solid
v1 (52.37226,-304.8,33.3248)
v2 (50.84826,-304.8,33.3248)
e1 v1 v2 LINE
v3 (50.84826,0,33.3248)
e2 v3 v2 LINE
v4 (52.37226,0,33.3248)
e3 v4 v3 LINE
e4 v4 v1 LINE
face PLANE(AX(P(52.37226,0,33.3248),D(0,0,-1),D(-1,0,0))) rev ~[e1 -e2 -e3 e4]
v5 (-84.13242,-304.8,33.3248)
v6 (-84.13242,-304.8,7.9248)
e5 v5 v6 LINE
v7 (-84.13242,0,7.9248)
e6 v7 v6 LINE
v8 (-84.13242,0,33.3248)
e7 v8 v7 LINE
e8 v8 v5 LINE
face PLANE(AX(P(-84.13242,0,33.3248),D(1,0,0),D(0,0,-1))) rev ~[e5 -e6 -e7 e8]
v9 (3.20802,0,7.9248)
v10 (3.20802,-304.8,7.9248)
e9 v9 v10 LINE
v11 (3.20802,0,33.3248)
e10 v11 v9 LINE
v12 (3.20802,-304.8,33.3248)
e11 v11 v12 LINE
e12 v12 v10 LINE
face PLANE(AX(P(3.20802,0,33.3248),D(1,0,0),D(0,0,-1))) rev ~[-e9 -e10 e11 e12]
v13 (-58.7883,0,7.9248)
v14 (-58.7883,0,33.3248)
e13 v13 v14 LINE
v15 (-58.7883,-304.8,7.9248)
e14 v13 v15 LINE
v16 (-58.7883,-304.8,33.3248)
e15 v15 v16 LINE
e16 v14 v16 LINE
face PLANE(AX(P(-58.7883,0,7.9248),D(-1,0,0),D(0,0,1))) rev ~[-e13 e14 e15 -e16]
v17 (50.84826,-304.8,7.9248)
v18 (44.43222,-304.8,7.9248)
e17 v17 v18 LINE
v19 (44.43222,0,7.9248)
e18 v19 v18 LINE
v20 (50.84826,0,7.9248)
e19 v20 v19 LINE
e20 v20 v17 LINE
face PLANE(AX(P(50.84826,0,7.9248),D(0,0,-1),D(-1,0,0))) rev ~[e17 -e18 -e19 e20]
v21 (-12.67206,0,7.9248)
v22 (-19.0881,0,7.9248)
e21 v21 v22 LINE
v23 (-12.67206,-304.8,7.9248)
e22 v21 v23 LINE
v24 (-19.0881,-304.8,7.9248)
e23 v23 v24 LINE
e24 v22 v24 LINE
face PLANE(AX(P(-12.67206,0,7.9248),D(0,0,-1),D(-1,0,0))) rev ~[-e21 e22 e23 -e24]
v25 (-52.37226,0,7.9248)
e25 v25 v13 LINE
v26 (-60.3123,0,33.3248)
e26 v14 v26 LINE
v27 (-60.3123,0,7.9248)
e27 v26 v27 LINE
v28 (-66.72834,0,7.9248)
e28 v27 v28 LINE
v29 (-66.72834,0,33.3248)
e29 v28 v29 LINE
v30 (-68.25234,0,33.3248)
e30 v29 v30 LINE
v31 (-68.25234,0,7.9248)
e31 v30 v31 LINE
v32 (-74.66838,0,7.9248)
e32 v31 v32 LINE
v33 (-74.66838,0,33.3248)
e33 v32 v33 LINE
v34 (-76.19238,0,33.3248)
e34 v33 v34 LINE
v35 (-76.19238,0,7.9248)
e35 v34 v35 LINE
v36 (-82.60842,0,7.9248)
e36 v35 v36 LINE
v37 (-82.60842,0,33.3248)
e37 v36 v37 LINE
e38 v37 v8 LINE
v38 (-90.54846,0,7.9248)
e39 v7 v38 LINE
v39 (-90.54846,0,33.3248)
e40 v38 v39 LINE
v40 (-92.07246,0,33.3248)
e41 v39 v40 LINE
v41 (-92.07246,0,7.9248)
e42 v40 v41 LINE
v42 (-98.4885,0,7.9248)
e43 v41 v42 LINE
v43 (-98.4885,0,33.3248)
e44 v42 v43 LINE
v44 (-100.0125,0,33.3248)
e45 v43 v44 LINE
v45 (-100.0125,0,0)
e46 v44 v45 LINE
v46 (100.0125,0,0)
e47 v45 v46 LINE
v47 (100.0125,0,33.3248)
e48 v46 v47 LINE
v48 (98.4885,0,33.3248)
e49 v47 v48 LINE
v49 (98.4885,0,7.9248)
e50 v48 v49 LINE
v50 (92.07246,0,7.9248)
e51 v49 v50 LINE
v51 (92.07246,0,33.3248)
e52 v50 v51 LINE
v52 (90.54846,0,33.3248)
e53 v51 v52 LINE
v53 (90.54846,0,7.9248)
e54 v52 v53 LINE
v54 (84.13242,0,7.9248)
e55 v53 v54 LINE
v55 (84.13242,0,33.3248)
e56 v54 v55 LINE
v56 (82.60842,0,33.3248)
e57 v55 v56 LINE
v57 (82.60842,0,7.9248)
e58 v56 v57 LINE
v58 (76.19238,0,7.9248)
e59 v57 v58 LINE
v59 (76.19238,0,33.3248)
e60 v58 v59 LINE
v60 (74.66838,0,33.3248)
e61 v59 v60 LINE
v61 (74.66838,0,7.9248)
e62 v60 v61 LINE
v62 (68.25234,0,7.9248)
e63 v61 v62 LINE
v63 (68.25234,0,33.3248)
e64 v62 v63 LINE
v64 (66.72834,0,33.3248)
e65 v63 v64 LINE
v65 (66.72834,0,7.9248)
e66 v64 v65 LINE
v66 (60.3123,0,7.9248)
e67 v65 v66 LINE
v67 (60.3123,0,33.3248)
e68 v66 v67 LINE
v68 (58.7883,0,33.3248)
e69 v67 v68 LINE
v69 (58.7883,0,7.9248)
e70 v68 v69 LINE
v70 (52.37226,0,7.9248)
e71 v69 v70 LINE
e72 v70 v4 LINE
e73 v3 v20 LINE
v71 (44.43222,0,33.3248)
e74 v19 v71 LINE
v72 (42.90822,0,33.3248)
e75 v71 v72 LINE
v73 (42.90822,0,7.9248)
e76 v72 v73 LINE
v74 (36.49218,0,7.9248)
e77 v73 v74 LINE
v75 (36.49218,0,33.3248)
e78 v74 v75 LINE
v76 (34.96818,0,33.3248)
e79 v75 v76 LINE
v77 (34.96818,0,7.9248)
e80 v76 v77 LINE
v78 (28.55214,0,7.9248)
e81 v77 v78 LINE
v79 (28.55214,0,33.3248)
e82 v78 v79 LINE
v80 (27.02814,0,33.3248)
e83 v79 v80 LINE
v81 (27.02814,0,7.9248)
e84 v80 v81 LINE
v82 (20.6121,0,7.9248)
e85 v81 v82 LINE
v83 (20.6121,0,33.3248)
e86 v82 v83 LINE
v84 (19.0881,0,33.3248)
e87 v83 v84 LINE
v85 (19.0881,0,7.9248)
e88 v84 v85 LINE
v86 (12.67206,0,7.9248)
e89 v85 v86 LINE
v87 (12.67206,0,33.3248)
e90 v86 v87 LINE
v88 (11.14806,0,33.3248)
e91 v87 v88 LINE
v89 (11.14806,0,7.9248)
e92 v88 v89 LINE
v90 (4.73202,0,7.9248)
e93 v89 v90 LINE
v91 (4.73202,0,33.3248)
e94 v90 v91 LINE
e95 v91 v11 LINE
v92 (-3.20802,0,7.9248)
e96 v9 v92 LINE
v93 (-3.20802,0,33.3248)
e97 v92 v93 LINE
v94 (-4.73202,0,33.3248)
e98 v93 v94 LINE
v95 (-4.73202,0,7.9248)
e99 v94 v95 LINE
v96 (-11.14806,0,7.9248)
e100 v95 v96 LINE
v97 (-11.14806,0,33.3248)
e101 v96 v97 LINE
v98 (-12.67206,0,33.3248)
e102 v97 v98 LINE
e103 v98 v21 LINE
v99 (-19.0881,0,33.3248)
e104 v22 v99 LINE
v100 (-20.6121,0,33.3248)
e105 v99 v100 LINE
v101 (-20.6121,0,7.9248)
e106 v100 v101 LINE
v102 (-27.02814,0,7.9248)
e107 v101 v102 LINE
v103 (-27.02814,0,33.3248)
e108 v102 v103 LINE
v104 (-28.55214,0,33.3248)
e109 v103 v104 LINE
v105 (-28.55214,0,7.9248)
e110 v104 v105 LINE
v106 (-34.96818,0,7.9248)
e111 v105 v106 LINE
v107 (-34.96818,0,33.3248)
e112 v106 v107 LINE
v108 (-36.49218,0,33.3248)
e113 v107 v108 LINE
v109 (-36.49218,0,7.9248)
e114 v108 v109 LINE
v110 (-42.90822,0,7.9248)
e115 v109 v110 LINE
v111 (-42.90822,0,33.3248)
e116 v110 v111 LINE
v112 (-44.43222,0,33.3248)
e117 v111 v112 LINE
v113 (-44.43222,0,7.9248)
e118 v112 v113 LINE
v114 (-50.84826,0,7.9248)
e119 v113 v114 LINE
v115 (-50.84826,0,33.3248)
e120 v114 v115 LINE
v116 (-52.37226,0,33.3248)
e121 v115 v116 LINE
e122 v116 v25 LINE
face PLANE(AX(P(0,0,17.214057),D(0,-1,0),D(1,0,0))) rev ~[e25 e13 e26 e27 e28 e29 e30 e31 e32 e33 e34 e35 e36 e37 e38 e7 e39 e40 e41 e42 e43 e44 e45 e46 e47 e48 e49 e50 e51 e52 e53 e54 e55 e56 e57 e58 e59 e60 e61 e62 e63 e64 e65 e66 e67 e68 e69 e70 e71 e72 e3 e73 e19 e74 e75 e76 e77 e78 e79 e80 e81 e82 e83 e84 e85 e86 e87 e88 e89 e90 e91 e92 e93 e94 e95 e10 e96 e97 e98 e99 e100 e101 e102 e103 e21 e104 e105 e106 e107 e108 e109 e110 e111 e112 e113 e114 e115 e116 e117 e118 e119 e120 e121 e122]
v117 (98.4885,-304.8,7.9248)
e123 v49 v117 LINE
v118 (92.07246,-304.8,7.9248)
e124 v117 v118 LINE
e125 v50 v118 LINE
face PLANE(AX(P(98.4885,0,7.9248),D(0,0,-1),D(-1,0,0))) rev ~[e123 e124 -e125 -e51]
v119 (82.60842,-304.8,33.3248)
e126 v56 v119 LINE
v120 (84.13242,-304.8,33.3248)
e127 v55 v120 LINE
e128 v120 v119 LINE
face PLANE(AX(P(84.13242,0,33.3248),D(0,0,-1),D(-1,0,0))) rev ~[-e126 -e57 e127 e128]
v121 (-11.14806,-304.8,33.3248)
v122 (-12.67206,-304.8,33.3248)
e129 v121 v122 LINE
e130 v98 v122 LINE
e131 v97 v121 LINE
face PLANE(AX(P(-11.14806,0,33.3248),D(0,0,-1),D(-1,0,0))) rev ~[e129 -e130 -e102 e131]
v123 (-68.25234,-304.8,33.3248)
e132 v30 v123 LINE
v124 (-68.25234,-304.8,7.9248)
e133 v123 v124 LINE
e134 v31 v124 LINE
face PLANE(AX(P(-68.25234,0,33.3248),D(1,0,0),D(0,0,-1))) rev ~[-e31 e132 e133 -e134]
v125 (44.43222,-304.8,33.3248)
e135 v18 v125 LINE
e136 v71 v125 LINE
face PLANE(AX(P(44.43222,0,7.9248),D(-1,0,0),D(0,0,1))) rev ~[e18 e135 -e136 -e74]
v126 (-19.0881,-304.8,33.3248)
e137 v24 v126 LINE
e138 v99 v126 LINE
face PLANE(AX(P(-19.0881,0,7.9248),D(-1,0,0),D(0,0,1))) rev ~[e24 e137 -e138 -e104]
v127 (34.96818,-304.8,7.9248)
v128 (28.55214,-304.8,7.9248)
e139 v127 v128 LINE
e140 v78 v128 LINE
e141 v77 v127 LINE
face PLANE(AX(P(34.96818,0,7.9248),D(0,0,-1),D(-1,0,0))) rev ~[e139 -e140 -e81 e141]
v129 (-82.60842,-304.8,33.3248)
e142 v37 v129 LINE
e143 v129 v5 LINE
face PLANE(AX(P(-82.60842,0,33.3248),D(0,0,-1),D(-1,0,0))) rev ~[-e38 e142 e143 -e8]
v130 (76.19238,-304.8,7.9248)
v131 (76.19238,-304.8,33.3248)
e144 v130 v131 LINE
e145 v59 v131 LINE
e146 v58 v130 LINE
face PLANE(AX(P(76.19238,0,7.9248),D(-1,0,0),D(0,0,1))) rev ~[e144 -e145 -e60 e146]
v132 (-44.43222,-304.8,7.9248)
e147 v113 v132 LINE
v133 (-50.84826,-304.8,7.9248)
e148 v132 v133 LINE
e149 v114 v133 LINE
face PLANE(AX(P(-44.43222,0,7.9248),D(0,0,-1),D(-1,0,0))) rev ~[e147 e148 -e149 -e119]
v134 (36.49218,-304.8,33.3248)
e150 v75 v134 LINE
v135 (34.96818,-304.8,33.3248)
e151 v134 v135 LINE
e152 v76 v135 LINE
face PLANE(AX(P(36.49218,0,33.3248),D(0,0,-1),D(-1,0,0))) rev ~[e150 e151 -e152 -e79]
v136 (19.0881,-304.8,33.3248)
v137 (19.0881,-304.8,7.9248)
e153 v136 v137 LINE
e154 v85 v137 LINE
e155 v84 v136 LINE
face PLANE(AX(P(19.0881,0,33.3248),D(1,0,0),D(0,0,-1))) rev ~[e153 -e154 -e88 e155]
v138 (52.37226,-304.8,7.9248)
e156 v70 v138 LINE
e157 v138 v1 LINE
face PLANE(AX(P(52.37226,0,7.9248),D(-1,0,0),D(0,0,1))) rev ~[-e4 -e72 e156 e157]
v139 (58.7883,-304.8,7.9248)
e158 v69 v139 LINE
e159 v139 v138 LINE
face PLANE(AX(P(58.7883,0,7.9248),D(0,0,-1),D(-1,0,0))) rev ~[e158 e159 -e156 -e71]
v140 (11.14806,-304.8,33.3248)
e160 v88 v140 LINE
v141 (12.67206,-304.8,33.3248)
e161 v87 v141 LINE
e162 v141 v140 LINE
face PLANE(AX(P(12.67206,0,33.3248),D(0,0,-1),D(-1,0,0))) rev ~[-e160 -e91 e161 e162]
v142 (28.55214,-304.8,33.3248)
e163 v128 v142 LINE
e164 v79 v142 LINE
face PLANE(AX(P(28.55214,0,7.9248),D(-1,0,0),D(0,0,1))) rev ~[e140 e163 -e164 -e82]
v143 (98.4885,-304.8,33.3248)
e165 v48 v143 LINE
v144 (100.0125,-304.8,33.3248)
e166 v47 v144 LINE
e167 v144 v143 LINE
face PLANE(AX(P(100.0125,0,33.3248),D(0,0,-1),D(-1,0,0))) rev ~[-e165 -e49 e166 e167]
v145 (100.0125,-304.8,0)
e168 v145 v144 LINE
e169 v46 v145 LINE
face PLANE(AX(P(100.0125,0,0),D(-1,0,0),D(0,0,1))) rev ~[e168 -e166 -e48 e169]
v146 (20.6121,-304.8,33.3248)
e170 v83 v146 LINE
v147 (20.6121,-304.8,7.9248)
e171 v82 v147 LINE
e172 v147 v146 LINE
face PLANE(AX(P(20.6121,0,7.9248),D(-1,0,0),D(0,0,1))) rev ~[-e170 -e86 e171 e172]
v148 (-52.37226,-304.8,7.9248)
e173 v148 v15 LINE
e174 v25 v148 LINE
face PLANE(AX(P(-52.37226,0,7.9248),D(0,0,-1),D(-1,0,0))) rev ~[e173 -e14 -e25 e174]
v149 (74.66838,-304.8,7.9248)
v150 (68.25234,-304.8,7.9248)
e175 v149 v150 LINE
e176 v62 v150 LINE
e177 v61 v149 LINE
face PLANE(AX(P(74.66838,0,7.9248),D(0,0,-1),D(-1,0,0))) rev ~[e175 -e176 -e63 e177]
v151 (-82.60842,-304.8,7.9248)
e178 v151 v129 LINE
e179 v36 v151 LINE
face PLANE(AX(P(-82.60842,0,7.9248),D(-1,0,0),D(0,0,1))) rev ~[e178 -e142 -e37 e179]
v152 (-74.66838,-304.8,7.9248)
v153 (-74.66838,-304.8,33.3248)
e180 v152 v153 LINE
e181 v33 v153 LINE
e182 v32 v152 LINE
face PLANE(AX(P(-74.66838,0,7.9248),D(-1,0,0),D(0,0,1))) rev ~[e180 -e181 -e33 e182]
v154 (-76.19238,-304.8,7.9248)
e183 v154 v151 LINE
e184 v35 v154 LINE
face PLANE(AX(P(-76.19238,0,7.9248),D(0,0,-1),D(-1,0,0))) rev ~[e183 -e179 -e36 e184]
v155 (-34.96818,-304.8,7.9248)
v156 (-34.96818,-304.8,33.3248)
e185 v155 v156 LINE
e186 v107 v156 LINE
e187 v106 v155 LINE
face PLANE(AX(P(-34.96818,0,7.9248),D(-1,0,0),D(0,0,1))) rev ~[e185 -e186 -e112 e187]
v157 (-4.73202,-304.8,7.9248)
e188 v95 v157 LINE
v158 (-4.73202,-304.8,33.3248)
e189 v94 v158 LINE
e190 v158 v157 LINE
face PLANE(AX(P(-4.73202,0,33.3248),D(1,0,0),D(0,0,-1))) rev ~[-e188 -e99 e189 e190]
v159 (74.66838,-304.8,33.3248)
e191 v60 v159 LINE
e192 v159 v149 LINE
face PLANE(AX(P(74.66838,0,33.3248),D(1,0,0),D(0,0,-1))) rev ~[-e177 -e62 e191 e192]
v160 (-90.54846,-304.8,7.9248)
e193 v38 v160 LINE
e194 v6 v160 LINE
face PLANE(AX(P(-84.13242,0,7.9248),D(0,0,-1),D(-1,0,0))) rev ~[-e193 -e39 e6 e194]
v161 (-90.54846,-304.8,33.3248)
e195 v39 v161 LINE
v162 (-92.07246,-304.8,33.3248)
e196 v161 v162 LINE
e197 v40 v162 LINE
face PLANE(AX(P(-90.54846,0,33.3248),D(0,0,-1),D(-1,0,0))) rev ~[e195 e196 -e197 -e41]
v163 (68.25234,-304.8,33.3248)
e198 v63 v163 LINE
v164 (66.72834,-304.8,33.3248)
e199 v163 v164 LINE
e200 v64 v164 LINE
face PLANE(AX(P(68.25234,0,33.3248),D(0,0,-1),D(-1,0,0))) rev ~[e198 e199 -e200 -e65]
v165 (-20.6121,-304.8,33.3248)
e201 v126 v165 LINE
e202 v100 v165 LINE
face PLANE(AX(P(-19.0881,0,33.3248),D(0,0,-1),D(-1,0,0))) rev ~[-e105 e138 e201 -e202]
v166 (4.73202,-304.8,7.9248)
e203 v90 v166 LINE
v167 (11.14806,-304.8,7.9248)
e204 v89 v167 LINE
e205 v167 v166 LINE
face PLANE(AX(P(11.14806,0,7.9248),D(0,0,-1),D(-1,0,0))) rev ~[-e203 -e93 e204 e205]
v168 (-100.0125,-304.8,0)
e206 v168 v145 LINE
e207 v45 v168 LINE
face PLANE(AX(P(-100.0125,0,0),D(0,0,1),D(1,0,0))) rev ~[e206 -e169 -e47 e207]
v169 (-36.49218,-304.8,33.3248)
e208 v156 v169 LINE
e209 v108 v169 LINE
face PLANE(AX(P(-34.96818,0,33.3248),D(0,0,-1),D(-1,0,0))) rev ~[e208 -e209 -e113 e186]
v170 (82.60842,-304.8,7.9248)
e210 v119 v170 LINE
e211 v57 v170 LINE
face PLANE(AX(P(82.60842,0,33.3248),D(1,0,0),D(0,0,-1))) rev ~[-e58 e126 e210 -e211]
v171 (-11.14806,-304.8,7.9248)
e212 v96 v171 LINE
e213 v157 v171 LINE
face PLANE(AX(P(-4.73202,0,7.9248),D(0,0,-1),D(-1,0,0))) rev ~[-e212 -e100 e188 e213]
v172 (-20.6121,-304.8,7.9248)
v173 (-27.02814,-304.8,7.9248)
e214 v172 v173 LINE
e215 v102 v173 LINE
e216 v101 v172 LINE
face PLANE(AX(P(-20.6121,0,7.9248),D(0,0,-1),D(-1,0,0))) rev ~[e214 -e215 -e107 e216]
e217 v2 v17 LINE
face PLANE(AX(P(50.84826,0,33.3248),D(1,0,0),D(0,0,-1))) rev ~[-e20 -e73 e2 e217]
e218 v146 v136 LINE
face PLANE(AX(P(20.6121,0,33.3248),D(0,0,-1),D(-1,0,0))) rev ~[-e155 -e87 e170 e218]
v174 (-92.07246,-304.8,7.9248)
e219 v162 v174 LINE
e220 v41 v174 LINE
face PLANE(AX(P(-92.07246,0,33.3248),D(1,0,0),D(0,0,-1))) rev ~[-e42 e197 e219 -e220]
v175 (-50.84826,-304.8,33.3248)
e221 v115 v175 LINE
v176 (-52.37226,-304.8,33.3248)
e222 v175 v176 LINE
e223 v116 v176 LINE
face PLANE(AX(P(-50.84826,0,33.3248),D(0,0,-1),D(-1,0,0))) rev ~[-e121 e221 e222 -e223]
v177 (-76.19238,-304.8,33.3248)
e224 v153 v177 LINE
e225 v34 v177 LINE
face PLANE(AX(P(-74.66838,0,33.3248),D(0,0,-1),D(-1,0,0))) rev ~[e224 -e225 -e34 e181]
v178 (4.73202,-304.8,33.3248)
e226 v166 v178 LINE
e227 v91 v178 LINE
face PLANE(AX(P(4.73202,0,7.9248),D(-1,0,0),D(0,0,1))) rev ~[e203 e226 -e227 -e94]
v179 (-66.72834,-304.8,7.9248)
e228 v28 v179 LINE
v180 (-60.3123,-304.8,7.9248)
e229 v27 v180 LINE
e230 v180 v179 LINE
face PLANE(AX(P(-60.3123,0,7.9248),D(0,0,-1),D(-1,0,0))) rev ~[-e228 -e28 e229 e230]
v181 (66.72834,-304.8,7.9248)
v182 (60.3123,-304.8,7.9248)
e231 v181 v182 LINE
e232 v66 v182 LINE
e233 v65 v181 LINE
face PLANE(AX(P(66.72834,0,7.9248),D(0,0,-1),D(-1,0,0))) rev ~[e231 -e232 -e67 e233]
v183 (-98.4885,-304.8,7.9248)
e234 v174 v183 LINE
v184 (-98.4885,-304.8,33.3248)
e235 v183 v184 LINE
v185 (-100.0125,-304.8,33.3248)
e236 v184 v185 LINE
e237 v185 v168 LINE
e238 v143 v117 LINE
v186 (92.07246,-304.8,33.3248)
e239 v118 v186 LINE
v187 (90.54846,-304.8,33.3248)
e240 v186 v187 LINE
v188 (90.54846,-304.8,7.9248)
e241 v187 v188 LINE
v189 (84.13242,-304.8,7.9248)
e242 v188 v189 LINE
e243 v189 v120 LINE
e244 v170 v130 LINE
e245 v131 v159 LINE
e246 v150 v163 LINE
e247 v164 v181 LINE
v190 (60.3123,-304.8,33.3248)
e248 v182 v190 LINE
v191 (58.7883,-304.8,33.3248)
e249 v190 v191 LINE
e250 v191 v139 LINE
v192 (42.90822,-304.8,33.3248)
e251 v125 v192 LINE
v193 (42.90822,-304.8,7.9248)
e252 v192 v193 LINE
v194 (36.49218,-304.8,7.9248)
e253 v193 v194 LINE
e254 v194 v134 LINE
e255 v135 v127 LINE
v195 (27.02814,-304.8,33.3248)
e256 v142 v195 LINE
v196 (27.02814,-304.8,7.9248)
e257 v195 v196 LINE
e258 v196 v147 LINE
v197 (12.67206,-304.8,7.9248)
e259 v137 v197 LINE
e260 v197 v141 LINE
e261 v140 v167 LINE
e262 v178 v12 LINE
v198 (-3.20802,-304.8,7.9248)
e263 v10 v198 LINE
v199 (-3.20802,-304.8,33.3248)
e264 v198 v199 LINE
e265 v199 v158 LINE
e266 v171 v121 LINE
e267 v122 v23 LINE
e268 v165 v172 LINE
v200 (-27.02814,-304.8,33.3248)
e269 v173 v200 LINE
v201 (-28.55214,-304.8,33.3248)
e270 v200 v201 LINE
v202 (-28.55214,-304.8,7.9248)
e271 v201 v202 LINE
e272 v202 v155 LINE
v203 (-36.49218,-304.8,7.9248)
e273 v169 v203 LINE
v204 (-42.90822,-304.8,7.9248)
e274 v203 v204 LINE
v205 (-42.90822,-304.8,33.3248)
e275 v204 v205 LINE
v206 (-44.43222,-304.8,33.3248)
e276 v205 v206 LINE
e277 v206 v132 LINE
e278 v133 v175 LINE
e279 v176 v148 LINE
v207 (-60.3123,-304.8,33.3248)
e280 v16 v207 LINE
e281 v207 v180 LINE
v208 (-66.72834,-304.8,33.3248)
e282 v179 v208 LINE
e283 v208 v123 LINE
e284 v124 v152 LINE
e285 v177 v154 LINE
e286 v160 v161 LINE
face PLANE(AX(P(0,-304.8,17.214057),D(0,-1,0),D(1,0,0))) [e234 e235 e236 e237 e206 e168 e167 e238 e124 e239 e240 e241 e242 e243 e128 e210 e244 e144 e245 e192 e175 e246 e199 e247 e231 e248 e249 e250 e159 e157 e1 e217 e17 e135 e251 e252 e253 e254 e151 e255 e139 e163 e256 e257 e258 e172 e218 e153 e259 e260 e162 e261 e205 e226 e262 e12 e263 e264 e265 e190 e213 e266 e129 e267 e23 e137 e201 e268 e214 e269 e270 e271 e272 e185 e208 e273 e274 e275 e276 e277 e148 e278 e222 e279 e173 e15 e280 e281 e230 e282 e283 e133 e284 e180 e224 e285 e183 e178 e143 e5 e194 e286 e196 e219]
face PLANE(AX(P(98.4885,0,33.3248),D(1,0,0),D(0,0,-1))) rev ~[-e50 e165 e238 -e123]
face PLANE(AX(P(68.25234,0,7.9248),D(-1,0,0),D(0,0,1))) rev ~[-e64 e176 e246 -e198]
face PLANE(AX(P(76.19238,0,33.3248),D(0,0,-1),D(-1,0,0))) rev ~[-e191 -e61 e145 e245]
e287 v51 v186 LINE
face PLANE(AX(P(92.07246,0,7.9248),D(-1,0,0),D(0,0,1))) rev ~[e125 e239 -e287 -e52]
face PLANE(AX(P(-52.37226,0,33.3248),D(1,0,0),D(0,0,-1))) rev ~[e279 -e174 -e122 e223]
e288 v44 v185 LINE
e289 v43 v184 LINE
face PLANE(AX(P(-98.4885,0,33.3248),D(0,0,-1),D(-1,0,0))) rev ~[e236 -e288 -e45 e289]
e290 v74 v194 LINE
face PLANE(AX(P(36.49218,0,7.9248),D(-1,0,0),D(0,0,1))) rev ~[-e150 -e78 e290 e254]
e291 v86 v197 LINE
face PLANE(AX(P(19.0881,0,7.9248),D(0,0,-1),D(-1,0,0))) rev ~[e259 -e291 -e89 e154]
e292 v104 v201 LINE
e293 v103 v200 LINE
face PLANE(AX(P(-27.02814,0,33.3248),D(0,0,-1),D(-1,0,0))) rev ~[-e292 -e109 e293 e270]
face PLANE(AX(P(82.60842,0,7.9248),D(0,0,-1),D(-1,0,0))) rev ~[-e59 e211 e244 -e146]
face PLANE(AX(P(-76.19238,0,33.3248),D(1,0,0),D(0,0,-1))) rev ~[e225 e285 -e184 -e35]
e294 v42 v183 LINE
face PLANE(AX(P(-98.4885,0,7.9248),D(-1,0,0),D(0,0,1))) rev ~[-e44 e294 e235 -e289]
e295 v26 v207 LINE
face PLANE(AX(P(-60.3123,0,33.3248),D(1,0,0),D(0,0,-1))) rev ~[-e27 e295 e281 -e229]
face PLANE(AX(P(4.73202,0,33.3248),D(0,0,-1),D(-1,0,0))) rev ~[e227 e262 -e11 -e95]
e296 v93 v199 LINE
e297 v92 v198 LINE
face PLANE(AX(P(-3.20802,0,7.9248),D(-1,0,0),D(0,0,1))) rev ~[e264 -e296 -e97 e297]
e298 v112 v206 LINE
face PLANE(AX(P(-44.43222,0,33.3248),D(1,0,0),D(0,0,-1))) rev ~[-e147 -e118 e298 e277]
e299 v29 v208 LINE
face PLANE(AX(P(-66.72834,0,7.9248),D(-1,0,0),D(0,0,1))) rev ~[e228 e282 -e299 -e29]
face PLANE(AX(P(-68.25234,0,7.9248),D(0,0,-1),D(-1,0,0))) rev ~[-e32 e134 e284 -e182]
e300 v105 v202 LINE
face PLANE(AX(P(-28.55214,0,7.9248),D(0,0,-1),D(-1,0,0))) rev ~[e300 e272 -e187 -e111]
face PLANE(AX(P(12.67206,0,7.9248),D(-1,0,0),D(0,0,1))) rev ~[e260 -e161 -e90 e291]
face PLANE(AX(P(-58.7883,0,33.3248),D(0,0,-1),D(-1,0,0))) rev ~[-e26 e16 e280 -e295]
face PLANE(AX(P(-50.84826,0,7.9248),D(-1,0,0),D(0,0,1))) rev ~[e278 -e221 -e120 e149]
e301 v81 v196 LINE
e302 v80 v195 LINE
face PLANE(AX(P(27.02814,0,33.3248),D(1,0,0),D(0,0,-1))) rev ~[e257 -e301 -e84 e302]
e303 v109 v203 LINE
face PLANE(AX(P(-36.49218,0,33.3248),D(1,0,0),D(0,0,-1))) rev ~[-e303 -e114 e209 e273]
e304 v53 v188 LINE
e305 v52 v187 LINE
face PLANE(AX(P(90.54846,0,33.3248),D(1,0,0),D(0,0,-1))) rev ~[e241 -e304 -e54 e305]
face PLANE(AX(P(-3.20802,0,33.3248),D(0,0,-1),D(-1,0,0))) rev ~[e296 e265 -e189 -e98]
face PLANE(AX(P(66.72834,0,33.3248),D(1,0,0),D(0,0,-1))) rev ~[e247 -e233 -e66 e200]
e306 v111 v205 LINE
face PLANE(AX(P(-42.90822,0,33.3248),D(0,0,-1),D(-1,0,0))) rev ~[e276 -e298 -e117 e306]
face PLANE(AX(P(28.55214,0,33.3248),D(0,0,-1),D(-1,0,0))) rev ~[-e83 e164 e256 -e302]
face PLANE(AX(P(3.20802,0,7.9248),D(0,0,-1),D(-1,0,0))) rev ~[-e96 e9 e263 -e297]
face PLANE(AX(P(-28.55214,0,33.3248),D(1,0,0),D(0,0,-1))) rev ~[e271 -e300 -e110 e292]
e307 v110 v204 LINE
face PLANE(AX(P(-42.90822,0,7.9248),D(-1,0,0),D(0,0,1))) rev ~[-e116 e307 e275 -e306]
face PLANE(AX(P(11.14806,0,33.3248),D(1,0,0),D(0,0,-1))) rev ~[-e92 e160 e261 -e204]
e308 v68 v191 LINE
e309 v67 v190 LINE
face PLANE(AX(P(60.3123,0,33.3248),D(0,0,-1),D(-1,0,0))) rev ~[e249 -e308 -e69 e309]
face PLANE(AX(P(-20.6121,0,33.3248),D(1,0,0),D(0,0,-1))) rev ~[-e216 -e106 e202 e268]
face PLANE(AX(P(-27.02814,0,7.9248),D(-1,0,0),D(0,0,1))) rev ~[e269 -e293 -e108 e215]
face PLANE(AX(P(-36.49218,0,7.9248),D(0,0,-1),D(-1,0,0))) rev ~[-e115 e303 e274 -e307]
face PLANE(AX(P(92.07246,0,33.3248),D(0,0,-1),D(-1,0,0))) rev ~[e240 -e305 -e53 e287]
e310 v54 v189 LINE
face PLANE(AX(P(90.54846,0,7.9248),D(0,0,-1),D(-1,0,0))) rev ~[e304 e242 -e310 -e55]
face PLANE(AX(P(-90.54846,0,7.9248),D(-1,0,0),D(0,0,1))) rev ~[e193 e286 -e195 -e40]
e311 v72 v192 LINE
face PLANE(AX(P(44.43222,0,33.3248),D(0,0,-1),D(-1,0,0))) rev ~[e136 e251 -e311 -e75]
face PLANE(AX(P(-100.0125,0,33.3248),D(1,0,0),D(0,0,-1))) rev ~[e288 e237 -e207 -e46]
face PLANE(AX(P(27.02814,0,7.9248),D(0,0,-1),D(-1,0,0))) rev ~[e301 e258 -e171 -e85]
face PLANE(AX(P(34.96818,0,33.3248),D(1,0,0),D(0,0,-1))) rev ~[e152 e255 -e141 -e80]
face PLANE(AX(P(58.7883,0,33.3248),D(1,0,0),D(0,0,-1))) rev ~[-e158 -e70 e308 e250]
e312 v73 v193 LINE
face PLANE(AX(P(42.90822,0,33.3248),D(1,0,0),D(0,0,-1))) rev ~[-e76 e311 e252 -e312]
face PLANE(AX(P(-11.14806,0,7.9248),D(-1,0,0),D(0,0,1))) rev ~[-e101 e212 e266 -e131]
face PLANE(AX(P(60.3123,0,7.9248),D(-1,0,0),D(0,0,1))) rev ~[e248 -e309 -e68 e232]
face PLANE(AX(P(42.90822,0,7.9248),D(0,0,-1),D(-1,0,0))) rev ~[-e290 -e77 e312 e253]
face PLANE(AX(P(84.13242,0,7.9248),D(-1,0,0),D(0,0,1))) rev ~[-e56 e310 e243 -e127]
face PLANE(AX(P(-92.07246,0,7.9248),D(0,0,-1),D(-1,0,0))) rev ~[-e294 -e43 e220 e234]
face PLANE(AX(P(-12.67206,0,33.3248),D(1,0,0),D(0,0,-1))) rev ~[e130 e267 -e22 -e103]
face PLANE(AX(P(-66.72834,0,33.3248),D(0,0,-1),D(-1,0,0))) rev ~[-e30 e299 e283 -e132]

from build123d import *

# Parameters (mm, degrees)
F1_DEPTH = 304.8


with BuildPart() as f1:
    # F0 (on Front) → F1 (new body)
    with BuildSketch(Plane.XZ):
        Polygon((-100.0125, 33.3248), (-100.0125, 0), (100.0125, 0), (100.0125, 33.3248), (98.4885, 33.3248), (98.4885, 7.9248), (92.07246, 7.9248), (92.07246, 33.3248), (90.54846, 33.3248), (90.54846, 7.9248), (84.13242, 7.9248), (84.13242, 33.3248), (82.60842, 33.3248), (82.60842, 7.9248), (76.19238, 7.9248), (76.19238, 33.3248), (74.66838, 33.3248), (74.66838, 7.9248), (68.25234, 7.9248), (68.25234, 33.3248), (66.72834, 33.3248), (66.72834, 7.9248), (60.3123, 7.9248), (60.3123, 33.3248), (58.7883, 33.3248), (58.7883, 7.9248), (52.37226, 7.9248), (52.37226, 33.3248), (50.84826, 33.3248), (50.84826, 7.9248), (44.43222, 7.9248), (44.43222, 33.3248), (42.90822, 33.3248), (42.90822, 7.9248), (36.49218, 7.9248), (36.49218, 33.3248), (34.96818, 33.3248), (34.96818, 7.9248), (28.55214, 7.9248), (28.55214, 33.3248), (27.02814, 33.3248), (27.02814, 7.9248), (20.6121, 7.9248), (20.6121, 33.3248), (19.0881, 33.3248), (19.0881, 7.9248), (12.67206, 7.9248), (12.67206, 33.3248), (11.14806, 33.3248), (11.14806, 7.9248), (4.73202, 7.9248), (4.73202, 33.3248), (3.20802, 33.3248), (3.20802, 7.9248), (-3.20802, 7.9248), (-3.20802, 33.3248), (-4.73202, 33.3248), (-4.73202, 7.9248), (-11.14806, 7.9248), (-11.14806, 33.3248), (-12.67206, 33.3248), (-12.67206, 7.9248), (-19.0881, 7.9248), (-19.0881, 33.3248), (-20.6121, 33.3248), (-20.6121, 7.9248), (-27.02814, 7.9248), (-27.02814, 33.3248), (-28.55214, 33.3248), (-28.55214, 7.9248), (-34.96818, 7.9248), (-34.96818, 33.3248), (-36.49218, 33.3248), (-36.49218, 7.9248), (-42.90822, 7.9248), (-42.90822, 33.3248), (-44.43222, 33.3248), (-44.43222, 7.9248), (-50.84826, 7.9248), (-50.84826, 33.3248), (-52.37226, 33.3248), (-52.37226, 7.9248), (-58.7883, 7.9248), (-58.7883, 33.3248), (-60.3123, 33.3248), (-60.3123, 7.9248), (-66.72834, 7.9248), (-66.72834, 33.3248), (-68.25234, 33.3248), (-68.25234, 7.9248), (-74.66838, 7.9248), (-74.66838, 33.3248), (-76.19238, 33.3248), (-76.19238, 7.9248), (-82.60842, 7.9248), (-82.60842, 33.3248), (-84.13242, 33.3248), (-84.13242, 7.9248), (-90.54846, 7.9248), (-90.54846, 33.3248), (-92.07246, 33.3248), (-92.07246, 7.9248), (-98.4885, 7.9248), (-98.4885, 33.3248), align=None)
    extrude(amount=F1_DEPTH)


solid = f1.part
